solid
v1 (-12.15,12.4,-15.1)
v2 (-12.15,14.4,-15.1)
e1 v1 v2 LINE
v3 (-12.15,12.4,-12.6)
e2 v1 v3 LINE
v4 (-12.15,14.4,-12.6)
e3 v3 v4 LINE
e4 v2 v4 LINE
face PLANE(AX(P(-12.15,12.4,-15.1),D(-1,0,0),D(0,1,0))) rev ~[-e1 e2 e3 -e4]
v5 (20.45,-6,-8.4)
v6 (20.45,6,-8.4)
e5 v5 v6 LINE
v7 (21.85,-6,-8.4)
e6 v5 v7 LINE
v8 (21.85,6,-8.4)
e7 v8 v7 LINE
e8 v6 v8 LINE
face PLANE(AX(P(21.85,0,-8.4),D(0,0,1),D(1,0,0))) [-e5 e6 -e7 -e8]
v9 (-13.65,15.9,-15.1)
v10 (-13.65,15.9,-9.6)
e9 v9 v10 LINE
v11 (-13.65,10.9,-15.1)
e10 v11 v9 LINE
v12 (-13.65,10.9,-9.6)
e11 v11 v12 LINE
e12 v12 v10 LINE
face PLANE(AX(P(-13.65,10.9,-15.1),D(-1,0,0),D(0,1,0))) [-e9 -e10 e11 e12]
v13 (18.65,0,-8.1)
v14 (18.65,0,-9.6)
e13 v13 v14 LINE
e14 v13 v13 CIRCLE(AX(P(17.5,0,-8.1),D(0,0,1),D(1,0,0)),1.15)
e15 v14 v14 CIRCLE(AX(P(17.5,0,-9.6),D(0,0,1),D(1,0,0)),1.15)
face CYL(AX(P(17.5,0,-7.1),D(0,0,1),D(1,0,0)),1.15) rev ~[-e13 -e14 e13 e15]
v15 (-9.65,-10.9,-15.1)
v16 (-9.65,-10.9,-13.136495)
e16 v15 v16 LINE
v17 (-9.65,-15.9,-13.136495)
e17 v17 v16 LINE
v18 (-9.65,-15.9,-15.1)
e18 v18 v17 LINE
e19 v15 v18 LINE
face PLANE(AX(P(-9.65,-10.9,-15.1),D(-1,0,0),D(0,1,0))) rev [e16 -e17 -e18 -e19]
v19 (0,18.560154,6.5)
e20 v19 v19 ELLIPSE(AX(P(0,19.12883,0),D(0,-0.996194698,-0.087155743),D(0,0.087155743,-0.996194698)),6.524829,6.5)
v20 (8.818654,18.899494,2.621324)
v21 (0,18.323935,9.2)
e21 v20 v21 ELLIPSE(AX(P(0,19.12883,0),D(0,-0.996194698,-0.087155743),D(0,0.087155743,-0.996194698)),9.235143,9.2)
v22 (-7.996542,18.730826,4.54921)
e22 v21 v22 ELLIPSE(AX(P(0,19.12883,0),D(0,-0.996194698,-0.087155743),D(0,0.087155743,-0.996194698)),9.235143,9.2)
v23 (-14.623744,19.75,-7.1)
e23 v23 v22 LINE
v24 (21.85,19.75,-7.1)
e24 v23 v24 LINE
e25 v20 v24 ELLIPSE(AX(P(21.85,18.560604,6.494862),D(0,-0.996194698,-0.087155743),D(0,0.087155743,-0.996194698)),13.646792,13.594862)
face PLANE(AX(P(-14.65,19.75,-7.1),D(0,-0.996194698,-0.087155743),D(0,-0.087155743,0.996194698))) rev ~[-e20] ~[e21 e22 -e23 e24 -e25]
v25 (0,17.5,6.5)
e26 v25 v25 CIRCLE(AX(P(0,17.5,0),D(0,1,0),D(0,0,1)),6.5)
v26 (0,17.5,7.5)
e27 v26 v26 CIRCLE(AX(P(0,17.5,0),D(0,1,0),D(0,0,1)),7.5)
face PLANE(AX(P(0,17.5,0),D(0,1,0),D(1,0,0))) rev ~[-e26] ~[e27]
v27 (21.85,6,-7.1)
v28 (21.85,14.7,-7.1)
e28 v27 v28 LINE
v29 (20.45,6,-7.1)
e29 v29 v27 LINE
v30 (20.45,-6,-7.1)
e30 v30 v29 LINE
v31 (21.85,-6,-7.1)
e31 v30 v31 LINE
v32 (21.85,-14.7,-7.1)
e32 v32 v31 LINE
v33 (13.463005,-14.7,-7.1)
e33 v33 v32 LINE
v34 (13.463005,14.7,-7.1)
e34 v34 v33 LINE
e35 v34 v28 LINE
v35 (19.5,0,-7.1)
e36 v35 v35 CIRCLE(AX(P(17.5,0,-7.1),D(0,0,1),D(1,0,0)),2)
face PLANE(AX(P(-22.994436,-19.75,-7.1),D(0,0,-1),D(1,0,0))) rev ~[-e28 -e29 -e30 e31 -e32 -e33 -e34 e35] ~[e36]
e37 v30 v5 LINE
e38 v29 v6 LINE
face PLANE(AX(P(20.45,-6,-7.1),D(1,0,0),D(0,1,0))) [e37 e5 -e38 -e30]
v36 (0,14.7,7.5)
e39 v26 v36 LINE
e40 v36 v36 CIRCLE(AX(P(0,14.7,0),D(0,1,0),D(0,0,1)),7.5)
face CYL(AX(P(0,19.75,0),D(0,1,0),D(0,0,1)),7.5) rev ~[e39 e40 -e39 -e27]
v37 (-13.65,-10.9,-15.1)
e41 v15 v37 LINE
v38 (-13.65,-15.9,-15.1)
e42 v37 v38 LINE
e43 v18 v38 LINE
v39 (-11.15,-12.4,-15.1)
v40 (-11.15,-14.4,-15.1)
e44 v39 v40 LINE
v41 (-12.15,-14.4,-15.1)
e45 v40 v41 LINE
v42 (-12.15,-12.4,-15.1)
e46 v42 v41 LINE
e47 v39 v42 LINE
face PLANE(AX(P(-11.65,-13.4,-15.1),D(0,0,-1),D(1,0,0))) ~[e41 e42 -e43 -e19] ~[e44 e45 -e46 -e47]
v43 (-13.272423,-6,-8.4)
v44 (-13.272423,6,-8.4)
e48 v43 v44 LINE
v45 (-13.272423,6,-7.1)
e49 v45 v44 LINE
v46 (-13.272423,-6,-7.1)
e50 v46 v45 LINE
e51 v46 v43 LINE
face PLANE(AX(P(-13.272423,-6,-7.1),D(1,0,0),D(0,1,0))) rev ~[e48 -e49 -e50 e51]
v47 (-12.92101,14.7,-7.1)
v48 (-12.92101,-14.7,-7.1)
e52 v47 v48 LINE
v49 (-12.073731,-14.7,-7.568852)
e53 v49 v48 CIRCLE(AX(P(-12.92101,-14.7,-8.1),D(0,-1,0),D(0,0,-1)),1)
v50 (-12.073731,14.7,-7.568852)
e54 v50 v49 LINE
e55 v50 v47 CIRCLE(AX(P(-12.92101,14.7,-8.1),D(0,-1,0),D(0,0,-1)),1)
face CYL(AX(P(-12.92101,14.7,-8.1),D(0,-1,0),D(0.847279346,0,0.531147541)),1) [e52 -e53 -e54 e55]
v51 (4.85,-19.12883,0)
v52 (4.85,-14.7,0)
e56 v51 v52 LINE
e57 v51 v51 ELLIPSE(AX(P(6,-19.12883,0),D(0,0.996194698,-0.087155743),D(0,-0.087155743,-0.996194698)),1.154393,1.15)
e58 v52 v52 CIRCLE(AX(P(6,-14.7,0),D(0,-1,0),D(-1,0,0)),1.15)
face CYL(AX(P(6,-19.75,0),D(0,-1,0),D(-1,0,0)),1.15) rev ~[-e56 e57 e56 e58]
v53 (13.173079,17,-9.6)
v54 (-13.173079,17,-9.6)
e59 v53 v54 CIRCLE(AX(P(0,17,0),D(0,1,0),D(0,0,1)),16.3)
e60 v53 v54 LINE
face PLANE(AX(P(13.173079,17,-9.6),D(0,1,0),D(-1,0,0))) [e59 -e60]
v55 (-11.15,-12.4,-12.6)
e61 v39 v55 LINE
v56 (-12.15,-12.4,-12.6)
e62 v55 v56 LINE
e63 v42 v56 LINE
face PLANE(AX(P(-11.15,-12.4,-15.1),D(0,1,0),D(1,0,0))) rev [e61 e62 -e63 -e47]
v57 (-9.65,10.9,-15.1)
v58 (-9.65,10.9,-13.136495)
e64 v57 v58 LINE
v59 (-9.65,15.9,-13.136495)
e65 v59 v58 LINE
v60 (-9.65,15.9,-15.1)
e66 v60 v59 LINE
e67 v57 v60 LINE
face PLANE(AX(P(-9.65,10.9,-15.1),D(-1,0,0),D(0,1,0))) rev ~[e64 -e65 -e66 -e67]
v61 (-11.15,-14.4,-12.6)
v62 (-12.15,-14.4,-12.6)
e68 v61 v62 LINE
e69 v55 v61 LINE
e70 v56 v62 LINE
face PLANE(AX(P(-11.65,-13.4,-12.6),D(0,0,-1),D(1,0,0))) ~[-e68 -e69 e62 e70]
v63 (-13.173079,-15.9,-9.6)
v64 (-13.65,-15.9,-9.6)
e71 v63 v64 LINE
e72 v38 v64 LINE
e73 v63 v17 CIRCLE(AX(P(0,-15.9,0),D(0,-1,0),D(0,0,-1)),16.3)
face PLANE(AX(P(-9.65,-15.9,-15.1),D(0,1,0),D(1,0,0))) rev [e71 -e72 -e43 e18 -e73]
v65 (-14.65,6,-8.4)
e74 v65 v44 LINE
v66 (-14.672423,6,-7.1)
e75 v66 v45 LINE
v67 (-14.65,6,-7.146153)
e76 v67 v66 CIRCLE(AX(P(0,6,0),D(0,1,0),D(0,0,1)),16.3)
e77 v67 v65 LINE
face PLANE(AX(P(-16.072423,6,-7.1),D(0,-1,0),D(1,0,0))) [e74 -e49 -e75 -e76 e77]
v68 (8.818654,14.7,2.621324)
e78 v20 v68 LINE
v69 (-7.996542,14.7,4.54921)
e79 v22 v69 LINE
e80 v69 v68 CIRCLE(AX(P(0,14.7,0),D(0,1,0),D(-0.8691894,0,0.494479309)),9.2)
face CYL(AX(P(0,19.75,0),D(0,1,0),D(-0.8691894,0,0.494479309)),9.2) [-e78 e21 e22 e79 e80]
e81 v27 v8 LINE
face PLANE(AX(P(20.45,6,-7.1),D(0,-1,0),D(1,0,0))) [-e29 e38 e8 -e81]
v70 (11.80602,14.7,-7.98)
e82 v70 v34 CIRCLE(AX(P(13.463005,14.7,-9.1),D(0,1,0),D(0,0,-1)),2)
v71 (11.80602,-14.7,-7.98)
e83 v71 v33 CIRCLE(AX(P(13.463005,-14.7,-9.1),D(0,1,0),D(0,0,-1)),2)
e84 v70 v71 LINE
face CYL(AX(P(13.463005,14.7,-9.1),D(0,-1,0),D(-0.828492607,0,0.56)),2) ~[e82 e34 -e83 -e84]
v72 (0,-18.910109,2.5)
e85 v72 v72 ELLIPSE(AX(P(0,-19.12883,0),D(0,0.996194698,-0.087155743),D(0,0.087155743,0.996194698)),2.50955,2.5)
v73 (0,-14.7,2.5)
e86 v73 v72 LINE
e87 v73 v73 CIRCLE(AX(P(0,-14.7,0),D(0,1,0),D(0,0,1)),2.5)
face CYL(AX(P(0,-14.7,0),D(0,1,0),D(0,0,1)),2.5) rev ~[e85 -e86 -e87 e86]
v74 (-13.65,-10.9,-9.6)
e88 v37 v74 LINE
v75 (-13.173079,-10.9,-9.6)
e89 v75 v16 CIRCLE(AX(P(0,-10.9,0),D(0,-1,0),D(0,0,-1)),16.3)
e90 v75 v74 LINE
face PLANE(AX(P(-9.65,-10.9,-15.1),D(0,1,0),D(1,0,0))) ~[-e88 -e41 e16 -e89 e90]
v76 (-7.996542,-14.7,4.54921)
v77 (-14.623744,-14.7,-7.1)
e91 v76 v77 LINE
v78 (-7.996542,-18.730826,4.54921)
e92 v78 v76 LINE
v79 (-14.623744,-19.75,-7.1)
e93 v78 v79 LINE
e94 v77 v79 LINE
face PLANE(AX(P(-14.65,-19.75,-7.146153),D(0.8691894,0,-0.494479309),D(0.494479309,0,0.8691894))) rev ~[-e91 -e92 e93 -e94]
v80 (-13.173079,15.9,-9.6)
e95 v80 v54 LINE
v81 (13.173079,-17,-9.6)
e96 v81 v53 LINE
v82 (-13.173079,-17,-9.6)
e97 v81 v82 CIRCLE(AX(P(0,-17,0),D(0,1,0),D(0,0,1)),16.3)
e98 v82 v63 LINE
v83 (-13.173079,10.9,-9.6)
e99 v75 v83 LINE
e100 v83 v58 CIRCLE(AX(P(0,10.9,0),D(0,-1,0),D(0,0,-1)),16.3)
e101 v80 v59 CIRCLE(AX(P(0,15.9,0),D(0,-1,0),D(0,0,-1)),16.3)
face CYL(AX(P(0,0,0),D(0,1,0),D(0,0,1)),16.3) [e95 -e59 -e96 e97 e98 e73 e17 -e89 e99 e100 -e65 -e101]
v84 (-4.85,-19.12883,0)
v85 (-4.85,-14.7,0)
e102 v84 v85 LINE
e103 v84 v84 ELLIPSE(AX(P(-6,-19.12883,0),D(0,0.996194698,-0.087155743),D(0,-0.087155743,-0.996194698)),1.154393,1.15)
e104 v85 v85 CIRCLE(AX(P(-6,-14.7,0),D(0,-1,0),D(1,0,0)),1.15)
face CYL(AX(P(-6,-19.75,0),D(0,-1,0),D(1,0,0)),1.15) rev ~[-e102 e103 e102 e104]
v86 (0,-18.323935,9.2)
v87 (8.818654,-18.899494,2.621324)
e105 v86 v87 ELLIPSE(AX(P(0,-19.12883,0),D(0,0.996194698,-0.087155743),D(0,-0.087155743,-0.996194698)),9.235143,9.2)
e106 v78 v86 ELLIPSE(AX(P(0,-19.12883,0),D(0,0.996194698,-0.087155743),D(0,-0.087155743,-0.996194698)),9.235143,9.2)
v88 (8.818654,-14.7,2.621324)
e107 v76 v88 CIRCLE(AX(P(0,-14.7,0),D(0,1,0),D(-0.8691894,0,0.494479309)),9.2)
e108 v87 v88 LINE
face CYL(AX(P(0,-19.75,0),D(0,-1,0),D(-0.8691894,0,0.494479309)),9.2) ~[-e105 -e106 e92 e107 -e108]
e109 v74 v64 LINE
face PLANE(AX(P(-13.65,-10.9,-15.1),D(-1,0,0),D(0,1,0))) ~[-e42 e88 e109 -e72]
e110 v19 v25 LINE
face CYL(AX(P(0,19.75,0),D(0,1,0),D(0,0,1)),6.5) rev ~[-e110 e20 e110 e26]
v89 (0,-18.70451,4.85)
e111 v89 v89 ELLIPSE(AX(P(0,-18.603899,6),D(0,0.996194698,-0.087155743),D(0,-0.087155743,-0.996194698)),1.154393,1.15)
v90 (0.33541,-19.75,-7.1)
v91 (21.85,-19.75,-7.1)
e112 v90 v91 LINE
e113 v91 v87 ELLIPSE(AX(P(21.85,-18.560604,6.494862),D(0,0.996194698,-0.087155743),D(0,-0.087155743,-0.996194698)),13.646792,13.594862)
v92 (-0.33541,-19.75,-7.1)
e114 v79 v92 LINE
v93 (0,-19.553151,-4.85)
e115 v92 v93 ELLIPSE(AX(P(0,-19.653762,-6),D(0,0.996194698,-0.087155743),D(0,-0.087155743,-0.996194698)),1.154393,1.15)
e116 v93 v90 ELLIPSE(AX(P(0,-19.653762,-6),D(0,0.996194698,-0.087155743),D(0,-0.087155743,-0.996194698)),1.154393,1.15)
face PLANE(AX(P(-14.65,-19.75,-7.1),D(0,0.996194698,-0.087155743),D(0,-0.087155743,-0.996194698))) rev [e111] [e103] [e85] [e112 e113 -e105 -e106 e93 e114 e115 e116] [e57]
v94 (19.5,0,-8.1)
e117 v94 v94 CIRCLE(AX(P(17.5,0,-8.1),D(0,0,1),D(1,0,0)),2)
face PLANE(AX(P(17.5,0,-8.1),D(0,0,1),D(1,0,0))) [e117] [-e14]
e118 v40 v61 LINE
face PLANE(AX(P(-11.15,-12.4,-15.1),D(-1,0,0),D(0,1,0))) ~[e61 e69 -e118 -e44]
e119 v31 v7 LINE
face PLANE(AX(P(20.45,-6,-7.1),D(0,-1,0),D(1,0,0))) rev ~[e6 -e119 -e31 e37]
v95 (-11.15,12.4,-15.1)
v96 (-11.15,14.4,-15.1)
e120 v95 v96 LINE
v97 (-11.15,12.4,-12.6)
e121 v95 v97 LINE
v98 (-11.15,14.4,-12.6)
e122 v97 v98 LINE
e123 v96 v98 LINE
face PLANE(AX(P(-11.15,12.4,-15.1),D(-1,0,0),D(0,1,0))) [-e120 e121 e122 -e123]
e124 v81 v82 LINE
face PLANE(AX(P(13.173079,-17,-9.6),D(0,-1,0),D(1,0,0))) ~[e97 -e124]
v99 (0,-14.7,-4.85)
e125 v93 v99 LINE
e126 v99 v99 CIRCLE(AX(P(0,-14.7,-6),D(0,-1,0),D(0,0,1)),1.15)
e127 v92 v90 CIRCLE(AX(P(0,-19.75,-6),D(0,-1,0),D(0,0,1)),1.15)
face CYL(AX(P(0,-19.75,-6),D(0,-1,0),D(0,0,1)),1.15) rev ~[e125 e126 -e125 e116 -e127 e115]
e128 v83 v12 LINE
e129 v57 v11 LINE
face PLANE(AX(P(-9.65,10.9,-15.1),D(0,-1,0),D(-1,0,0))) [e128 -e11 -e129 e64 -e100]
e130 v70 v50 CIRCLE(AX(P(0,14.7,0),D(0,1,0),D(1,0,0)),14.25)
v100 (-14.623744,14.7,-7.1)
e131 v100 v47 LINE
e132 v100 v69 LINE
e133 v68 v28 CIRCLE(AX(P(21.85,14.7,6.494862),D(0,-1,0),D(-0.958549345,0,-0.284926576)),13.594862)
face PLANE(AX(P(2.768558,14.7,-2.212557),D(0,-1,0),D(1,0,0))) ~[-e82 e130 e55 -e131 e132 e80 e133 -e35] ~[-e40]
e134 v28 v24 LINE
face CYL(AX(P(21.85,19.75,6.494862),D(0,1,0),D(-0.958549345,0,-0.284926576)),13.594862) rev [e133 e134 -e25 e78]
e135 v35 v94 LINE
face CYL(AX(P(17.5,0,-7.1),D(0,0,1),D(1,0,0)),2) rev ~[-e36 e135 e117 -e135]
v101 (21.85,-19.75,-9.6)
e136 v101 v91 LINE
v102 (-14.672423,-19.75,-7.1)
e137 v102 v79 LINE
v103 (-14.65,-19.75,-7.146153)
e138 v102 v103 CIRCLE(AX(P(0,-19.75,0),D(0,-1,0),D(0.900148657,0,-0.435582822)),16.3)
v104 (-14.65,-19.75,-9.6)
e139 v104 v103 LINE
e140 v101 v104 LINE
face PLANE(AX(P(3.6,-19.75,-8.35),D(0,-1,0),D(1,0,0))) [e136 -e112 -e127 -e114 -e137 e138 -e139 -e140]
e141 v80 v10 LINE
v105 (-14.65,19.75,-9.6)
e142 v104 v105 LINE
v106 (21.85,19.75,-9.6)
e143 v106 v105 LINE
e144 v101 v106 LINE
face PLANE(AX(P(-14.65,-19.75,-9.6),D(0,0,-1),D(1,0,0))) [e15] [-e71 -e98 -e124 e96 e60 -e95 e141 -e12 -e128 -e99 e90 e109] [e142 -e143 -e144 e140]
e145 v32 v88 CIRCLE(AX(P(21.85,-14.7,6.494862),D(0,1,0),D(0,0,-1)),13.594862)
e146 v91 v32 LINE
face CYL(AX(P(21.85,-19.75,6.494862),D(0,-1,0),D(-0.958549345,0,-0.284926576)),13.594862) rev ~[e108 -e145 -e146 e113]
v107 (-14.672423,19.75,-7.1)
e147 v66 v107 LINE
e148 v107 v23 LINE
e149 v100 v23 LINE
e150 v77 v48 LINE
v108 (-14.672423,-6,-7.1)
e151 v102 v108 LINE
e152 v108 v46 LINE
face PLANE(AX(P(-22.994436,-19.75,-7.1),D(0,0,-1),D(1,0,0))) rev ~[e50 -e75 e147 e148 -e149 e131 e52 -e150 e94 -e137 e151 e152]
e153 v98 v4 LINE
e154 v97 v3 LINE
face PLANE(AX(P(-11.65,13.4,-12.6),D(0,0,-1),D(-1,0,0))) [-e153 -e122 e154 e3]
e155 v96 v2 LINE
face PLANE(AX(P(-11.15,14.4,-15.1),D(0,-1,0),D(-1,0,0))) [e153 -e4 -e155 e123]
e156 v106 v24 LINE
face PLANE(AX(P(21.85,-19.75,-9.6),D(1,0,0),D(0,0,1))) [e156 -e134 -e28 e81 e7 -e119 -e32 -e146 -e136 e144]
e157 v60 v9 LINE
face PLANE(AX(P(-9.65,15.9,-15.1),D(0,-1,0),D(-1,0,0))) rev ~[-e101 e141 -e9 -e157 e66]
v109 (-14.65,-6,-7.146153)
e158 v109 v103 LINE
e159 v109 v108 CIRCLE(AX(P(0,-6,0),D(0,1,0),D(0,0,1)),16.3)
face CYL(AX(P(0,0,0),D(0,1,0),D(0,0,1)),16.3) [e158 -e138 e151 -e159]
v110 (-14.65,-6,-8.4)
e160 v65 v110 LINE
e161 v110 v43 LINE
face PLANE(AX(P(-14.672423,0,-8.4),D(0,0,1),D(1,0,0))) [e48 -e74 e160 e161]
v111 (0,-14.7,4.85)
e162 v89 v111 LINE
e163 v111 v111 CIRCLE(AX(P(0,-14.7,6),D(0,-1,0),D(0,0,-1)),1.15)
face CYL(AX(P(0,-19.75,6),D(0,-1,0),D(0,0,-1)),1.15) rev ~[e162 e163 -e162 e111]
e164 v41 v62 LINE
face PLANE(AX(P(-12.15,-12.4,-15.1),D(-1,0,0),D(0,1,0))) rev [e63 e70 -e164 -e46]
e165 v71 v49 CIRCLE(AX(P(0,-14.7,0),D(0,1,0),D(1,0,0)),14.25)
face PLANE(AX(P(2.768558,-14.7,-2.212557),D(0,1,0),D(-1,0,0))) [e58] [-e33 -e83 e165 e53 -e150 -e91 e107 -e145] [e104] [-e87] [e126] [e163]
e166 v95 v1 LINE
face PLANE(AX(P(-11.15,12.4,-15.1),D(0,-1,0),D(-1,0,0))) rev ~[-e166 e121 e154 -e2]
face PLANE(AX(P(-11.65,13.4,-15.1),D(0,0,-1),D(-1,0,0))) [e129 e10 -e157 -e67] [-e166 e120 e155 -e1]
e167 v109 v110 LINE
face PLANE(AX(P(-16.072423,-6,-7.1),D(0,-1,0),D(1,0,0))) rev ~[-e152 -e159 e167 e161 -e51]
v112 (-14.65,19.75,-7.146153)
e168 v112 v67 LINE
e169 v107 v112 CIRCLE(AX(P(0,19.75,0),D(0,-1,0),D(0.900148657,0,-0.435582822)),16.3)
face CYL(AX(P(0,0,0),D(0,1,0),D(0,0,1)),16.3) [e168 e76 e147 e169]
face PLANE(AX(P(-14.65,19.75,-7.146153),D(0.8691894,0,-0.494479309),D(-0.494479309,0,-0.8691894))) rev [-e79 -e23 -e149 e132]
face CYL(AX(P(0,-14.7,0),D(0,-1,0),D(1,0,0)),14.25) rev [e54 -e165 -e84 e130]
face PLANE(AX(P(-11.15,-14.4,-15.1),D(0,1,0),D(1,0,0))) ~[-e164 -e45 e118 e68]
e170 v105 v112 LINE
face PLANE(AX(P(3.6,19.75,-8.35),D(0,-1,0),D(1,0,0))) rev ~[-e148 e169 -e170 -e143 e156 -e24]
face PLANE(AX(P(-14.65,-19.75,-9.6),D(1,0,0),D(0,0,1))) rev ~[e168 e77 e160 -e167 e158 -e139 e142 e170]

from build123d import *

# Parameters (mm, degrees)
SKETCH_1_R               = 16.3
EXTRUDE_1_DEPTH          = 19.75
SKETCH_2_W               = 36.5
SKETCH_2_H               = 2.5
EXTRUDE_2_DEPTH          = 39.5
SKETCH_3_W               = 44.844436064
SKETCH_3_H               = 25.506740045
CUT_EXTRUDE_1_DEPTH      = 50
EXTRUDE_3_DEPTH          = 5.05
SKETCH_5_R               = 14.25
CUT_EXTRUDE_2_DEPTH      = 29.4
SKETCH_6_R               = 2.5
CUT_EXTRUDE_3_DEPTH      = 44.930797853
CUT_EXTRUDE_6_REACH      = 49.993
SKETCH_9_R               = 7.5
SKETCH_12_R              = 1.15
CUT_EXTRUDE_9_DEPTH      = 34.662664779
SKETCH_13_R              = 2
CUT_EXTRUDE_10_DEPTH     = 1
SKETCH_14_W              = 2.8
SKETCH_14_H              = 12
CUT_EXTRUDE_11_DEPTH     = 1.3
SKETCH_15_W              = 2.8
SKETCH_15_H              = 12
CUT_EXTRUDE_12_DEPTH     = 1.3
EXTRUDE_5_REACH          = 40.183
EXTRUDE_5_END_RADIUS     = 16.3
SKETCH_16_W              = 4
SKETCH_16_H              = 5
SKETCH_17_W              = 1
SKETCH_17_H              = 2
CUT_EXTRUDE_13_DEPTH     = 2.5
SKETCH_19_R              = 8.51898124
SKETCH_19_R_2            = 6.5
EXTRUDE_6_DEPTH          = 2.25
CUT_EXTRUDE_18_REACH     = 49.993
SKETCH_20_R              = 1.15
PATTERN_CIRCULAR_1_COUNT = 4
CUT_EXTRUDE_8_DEPTH      = 45.587021654
SKETCH_18_W              = 26.346157216
SKETCH_18_H              = 2.75
CUT_EXTRUDE_16_DEPTH     = 12.5
FILLET_1_R               = 2
FILLET_2_R               = 1


with BuildPart() as part:
    # 草图1 → 凸台-拉伸1 (new, symmetric)
    with BuildSketch(Plane(origin=(0, 0, 0), x_dir=(1, 0, 0), z_dir=(0, 1, 0))):
        with Locations(Location((0, 0, 0), (0, 0, 270))):
            Circle(SKETCH_1_R)
    extrude(amount=EXTRUDE_1_DEPTH, both=True)

    # 草图2 → 凸台-拉伸2 (add, through all)
    with BuildSketch(Plane.XZ.offset(19.75)):
        with Locations((3.6, -8.35)):
            Rectangle(SKETCH_2_W, SKETCH_2_H)
    extrude(amount=-EXTRUDE_2_DEPTH)

    # 草图3 → 切除-拉伸1 (cut)
    with BuildSketch(Plane.XZ.offset(19.75)):
        with Locations((-0.572218032, 5.653370022)):
            Rectangle(SKETCH_3_W, SKETCH_3_H)
    extrude(amount=-CUT_EXTRUDE_1_DEPTH, mode=Mode.SUBTRACT)

    # 草图4 → 凸台-拉伸3 (add)
    with BuildSketch(Plane.XZ.offset(19.75)):
        with BuildLine():
            Line((-14.65, -7.146152811), (-7.996542478, 4.549209646))
            ThreePointArc((-7.996542478, 4.549209646), (1.047927533, 9.140122969), (8.818653972, 2.621324497))
            ThreePointArc((8.818653972, 2.621324497), (13.721037439, -4.401937543), (21.85, -7.1))
            Line((21.85, -7.1), (-14.65, -7.146152811))
        make_face()
    extrude_3 = extrude(amount=-EXTRUDE_3_DEPTH)

    # 镜向1: 凸台-拉伸3 across plane
    add(extrude_3.mirror(Plane.ZX))

    # 草图5 → 切除-拉伸2 (cut)
    with BuildSketch(Plane(origin=(0, -14.7, 0), x_dir=(1, 0, 0), z_dir=(0, 1, 0))):
        Circle(SKETCH_5_R)
    extrude(amount=CUT_EXTRUDE_2_DEPTH, mode=Mode.SUBTRACT)

    # 草图6 → 切除-拉伸3 (cut, through all)
    with BuildSketch(Plane(origin=(0, -14.7, 0), x_dir=(1, 0, 0), z_dir=(0, 1, 0))):
        with Locations(Location((0, 0, 0), (0, 0, 270))):
            Circle(SKETCH_6_R)
    extrude(amount=-CUT_EXTRUDE_3_DEPTH, mode=Mode.SUBTRACT)

    # 草图9 → 切除-拉伸6 (cut, up to next)
    with BuildSketch(Plane(origin=(0, 19.75, 0), x_dir=(1, 0, 0), z_dir=(0, 1, 0)), mode=Mode.PRIVATE) as cut_extrude_6_sk1:
        with Locations(Location((0, 0, 0), (0, 0, 270))):
            Circle(SKETCH_9_R)
    cut_extrude_6_tool1 = extrude(cut_extrude_6_sk1.sketch, amount=-CUT_EXTRUDE_6_REACH, mode=Mode.PRIVATE) & part.part
    add(cut_extrude_6_tool1.solids().sort_by_distance((0, 19.75, 0))[0], mode=Mode.SUBTRACT)

    # 草图12 → 切除-拉伸9 (cut, through all)
    with BuildSketch(Plane.XY.offset(-7.1)):
        with Locations((17.5, 0)):
            Circle(SKETCH_12_R)
    extrude(amount=-CUT_EXTRUDE_9_DEPTH, mode=Mode.SUBTRACT)

    # 草图13 → 切除-拉伸10 (cut)
    with BuildSketch(Plane.XY.offset(-7.1)):
        with Locations((17.5, 0)):
            Circle(SKETCH_13_R)
    extrude(amount=-CUT_EXTRUDE_10_DEPTH, mode=Mode.SUBTRACT)

    # 草图14 → 切除-拉伸11 (cut)
    with BuildSketch(Plane.XY.offset(-7.1)):
        with Locations((21.85, 0)):
            Rectangle(SKETCH_14_W, SKETCH_14_H)
    extrude(amount=-CUT_EXTRUDE_11_DEPTH, mode=Mode.SUBTRACT)

    # 草图15 → 切除-拉伸12 (cut)
    with BuildSketch(Plane.XY.offset(-7.1)):
        with Locations((-14.672423113, 0)):
            Rectangle(SKETCH_15_W, SKETCH_15_H)
    extrude(amount=-CUT_EXTRUDE_12_DEPTH, mode=Mode.SUBTRACT)

    # 凸台-拉伸5: up to this cylinder (the profile starts outside it)
    extrude_5_end = Plane(origin=(0, 13.4, 0), z_dir=(0, -1, 0)) * Cylinder(EXTRUDE_5_END_RADIUS, 113.966, mode=Mode.PRIVATE)
    # 草图16 → 凸台-拉伸5 (add, up to the surface)
    with BuildSketch(Plane(origin=(0, 0, -15.1), x_dir=(-1, 0, 0), z_dir=(0, 0, -1)), mode=Mode.PRIVATE) as extrude_5_sk1:
        with Locations((11.65, 13.4)):
            Rectangle(SKETCH_16_W, SKETCH_16_H)
    extrude_5_tool1 = extrude(extrude_5_sk1.sketch, amount=-EXTRUDE_5_REACH, mode=Mode.PRIVATE) - extrude_5_end
    extrude_5 = extrude_5_tool1.solids().sort_by_distance((-11.65, 13.4, -15.1))[0]
    add(extrude_5)

    # 镜向4: 凸台-拉伸5 across plane
    add(extrude_5.mirror(Plane.ZX))

    # 草图17 → 切除-拉伸13 (cut)
    with BuildSketch(Plane(origin=(0, 0, -15.1), x_dir=(-1, 0, 0), z_dir=(0, 0, -1))):
        with Locations((11.65, 13.4)):
            Rectangle(SKETCH_17_W, SKETCH_17_H)
    cut_extrude_13 = extrude(amount=-CUT_EXTRUDE_13_DEPTH, mode=Mode.SUBTRACT)

    # 镜向5: 切除-拉伸13 across plane
    add(cut_extrude_13.mirror(Plane.ZX), mode=Mode.SUBTRACT)

    # 草图19 → 凸台-拉伸6 (add)
    with BuildSketch(Plane(origin=(0, 19.75, 0), x_dir=(1, 0, 0), z_dir=(0, 1, 0))):
        Circle(SKETCH_19_R)
        with Locations(Location((0, 0, 0), (0, 0, 270))):
            Circle(SKETCH_19_R_2, mode=Mode.SUBTRACT)
    extrude(amount=-EXTRUDE_6_DEPTH)

    # 草图20 → 切除-拉伸18 (cut, up to next)
    with BuildSketch(Plane.XZ.offset(19.75), mode=Mode.PRIVATE) as cut_extrude_18_sk1:
        with Locations(Location((0, 6, 0), (0, 0, 270))):
            Circle(SKETCH_20_R)
    cut_extrude_18_tool1 = extrude(cut_extrude_18_sk1.sketch, amount=-CUT_EXTRUDE_18_REACH, mode=Mode.PRIVATE) & part.part
    cut_extrude_18 = cut_extrude_18_tool1.solids().sort_by_distance((0, -19.75, 6))[0]
    add(cut_extrude_18, mode=Mode.SUBTRACT)

    # 阵列(圆周)1: 切除-拉伸18 ×4 about axis
    pattern_circular_1_axis = Axis((0, 0, 0), (0, 1, 0))
    for i in range(1, PATTERN_CIRCULAR_1_COUNT):
        add(cut_extrude_18.rotate(pattern_circular_1_axis, i * 360 / PATTERN_CIRCULAR_1_COUNT), mode=Mode.SUBTRACT)

    # 草图7 → 切除-拉伸8 (cut, through all)
    with BuildSketch(Plane.ZY.offset(14.65)):
        Polygon((-7.1, 19.75), (9.2, 18.323934785), (9.2, 19.75), align=None)
    cut_extrude_8 = extrude(amount=-CUT_EXTRUDE_8_DEPTH, mode=Mode.SUBTRACT)

    # 镜向3: 切除-拉伸8 across plane
    add(cut_extrude_8.mirror(Plane.ZX), mode=Mode.SUBTRACT)

    # 草图18 → 切除-拉伸16 (cut)
    with BuildSketch(Plane(origin=(0, 0, -9.6), x_dir=(-1, 0, 0), z_dir=(0, 0, -1))):
        with Locations((0, 18.375)):
            Rectangle(SKETCH_18_W, SKETCH_18_H)
    cut_extrude_16 = extrude(amount=CUT_EXTRUDE_16_DEPTH, mode=Mode.SUBTRACT)

    # 镜向6: 切除-拉伸16 across plane
    add(cut_extrude_16.mirror(Plane.ZX), mode=Mode.SUBTRACT)

    # 圆角1
    fillet_1_edges = [part.edges().sort_by_distance(p)[0] for p in [
        (12.355262037, 0, -7.1),
    ]]
    fillet(fillet_1_edges, radius=FILLET_1_R)

    # 圆角2
    fillet_2_edges = [part.edges().sort_by_distance(p)[0] for p in [
        (-12.355262037, 0, -7.1),
    ]]
    fillet(fillet_2_edges, radius=FILLET_2_R)


solid = part.part
